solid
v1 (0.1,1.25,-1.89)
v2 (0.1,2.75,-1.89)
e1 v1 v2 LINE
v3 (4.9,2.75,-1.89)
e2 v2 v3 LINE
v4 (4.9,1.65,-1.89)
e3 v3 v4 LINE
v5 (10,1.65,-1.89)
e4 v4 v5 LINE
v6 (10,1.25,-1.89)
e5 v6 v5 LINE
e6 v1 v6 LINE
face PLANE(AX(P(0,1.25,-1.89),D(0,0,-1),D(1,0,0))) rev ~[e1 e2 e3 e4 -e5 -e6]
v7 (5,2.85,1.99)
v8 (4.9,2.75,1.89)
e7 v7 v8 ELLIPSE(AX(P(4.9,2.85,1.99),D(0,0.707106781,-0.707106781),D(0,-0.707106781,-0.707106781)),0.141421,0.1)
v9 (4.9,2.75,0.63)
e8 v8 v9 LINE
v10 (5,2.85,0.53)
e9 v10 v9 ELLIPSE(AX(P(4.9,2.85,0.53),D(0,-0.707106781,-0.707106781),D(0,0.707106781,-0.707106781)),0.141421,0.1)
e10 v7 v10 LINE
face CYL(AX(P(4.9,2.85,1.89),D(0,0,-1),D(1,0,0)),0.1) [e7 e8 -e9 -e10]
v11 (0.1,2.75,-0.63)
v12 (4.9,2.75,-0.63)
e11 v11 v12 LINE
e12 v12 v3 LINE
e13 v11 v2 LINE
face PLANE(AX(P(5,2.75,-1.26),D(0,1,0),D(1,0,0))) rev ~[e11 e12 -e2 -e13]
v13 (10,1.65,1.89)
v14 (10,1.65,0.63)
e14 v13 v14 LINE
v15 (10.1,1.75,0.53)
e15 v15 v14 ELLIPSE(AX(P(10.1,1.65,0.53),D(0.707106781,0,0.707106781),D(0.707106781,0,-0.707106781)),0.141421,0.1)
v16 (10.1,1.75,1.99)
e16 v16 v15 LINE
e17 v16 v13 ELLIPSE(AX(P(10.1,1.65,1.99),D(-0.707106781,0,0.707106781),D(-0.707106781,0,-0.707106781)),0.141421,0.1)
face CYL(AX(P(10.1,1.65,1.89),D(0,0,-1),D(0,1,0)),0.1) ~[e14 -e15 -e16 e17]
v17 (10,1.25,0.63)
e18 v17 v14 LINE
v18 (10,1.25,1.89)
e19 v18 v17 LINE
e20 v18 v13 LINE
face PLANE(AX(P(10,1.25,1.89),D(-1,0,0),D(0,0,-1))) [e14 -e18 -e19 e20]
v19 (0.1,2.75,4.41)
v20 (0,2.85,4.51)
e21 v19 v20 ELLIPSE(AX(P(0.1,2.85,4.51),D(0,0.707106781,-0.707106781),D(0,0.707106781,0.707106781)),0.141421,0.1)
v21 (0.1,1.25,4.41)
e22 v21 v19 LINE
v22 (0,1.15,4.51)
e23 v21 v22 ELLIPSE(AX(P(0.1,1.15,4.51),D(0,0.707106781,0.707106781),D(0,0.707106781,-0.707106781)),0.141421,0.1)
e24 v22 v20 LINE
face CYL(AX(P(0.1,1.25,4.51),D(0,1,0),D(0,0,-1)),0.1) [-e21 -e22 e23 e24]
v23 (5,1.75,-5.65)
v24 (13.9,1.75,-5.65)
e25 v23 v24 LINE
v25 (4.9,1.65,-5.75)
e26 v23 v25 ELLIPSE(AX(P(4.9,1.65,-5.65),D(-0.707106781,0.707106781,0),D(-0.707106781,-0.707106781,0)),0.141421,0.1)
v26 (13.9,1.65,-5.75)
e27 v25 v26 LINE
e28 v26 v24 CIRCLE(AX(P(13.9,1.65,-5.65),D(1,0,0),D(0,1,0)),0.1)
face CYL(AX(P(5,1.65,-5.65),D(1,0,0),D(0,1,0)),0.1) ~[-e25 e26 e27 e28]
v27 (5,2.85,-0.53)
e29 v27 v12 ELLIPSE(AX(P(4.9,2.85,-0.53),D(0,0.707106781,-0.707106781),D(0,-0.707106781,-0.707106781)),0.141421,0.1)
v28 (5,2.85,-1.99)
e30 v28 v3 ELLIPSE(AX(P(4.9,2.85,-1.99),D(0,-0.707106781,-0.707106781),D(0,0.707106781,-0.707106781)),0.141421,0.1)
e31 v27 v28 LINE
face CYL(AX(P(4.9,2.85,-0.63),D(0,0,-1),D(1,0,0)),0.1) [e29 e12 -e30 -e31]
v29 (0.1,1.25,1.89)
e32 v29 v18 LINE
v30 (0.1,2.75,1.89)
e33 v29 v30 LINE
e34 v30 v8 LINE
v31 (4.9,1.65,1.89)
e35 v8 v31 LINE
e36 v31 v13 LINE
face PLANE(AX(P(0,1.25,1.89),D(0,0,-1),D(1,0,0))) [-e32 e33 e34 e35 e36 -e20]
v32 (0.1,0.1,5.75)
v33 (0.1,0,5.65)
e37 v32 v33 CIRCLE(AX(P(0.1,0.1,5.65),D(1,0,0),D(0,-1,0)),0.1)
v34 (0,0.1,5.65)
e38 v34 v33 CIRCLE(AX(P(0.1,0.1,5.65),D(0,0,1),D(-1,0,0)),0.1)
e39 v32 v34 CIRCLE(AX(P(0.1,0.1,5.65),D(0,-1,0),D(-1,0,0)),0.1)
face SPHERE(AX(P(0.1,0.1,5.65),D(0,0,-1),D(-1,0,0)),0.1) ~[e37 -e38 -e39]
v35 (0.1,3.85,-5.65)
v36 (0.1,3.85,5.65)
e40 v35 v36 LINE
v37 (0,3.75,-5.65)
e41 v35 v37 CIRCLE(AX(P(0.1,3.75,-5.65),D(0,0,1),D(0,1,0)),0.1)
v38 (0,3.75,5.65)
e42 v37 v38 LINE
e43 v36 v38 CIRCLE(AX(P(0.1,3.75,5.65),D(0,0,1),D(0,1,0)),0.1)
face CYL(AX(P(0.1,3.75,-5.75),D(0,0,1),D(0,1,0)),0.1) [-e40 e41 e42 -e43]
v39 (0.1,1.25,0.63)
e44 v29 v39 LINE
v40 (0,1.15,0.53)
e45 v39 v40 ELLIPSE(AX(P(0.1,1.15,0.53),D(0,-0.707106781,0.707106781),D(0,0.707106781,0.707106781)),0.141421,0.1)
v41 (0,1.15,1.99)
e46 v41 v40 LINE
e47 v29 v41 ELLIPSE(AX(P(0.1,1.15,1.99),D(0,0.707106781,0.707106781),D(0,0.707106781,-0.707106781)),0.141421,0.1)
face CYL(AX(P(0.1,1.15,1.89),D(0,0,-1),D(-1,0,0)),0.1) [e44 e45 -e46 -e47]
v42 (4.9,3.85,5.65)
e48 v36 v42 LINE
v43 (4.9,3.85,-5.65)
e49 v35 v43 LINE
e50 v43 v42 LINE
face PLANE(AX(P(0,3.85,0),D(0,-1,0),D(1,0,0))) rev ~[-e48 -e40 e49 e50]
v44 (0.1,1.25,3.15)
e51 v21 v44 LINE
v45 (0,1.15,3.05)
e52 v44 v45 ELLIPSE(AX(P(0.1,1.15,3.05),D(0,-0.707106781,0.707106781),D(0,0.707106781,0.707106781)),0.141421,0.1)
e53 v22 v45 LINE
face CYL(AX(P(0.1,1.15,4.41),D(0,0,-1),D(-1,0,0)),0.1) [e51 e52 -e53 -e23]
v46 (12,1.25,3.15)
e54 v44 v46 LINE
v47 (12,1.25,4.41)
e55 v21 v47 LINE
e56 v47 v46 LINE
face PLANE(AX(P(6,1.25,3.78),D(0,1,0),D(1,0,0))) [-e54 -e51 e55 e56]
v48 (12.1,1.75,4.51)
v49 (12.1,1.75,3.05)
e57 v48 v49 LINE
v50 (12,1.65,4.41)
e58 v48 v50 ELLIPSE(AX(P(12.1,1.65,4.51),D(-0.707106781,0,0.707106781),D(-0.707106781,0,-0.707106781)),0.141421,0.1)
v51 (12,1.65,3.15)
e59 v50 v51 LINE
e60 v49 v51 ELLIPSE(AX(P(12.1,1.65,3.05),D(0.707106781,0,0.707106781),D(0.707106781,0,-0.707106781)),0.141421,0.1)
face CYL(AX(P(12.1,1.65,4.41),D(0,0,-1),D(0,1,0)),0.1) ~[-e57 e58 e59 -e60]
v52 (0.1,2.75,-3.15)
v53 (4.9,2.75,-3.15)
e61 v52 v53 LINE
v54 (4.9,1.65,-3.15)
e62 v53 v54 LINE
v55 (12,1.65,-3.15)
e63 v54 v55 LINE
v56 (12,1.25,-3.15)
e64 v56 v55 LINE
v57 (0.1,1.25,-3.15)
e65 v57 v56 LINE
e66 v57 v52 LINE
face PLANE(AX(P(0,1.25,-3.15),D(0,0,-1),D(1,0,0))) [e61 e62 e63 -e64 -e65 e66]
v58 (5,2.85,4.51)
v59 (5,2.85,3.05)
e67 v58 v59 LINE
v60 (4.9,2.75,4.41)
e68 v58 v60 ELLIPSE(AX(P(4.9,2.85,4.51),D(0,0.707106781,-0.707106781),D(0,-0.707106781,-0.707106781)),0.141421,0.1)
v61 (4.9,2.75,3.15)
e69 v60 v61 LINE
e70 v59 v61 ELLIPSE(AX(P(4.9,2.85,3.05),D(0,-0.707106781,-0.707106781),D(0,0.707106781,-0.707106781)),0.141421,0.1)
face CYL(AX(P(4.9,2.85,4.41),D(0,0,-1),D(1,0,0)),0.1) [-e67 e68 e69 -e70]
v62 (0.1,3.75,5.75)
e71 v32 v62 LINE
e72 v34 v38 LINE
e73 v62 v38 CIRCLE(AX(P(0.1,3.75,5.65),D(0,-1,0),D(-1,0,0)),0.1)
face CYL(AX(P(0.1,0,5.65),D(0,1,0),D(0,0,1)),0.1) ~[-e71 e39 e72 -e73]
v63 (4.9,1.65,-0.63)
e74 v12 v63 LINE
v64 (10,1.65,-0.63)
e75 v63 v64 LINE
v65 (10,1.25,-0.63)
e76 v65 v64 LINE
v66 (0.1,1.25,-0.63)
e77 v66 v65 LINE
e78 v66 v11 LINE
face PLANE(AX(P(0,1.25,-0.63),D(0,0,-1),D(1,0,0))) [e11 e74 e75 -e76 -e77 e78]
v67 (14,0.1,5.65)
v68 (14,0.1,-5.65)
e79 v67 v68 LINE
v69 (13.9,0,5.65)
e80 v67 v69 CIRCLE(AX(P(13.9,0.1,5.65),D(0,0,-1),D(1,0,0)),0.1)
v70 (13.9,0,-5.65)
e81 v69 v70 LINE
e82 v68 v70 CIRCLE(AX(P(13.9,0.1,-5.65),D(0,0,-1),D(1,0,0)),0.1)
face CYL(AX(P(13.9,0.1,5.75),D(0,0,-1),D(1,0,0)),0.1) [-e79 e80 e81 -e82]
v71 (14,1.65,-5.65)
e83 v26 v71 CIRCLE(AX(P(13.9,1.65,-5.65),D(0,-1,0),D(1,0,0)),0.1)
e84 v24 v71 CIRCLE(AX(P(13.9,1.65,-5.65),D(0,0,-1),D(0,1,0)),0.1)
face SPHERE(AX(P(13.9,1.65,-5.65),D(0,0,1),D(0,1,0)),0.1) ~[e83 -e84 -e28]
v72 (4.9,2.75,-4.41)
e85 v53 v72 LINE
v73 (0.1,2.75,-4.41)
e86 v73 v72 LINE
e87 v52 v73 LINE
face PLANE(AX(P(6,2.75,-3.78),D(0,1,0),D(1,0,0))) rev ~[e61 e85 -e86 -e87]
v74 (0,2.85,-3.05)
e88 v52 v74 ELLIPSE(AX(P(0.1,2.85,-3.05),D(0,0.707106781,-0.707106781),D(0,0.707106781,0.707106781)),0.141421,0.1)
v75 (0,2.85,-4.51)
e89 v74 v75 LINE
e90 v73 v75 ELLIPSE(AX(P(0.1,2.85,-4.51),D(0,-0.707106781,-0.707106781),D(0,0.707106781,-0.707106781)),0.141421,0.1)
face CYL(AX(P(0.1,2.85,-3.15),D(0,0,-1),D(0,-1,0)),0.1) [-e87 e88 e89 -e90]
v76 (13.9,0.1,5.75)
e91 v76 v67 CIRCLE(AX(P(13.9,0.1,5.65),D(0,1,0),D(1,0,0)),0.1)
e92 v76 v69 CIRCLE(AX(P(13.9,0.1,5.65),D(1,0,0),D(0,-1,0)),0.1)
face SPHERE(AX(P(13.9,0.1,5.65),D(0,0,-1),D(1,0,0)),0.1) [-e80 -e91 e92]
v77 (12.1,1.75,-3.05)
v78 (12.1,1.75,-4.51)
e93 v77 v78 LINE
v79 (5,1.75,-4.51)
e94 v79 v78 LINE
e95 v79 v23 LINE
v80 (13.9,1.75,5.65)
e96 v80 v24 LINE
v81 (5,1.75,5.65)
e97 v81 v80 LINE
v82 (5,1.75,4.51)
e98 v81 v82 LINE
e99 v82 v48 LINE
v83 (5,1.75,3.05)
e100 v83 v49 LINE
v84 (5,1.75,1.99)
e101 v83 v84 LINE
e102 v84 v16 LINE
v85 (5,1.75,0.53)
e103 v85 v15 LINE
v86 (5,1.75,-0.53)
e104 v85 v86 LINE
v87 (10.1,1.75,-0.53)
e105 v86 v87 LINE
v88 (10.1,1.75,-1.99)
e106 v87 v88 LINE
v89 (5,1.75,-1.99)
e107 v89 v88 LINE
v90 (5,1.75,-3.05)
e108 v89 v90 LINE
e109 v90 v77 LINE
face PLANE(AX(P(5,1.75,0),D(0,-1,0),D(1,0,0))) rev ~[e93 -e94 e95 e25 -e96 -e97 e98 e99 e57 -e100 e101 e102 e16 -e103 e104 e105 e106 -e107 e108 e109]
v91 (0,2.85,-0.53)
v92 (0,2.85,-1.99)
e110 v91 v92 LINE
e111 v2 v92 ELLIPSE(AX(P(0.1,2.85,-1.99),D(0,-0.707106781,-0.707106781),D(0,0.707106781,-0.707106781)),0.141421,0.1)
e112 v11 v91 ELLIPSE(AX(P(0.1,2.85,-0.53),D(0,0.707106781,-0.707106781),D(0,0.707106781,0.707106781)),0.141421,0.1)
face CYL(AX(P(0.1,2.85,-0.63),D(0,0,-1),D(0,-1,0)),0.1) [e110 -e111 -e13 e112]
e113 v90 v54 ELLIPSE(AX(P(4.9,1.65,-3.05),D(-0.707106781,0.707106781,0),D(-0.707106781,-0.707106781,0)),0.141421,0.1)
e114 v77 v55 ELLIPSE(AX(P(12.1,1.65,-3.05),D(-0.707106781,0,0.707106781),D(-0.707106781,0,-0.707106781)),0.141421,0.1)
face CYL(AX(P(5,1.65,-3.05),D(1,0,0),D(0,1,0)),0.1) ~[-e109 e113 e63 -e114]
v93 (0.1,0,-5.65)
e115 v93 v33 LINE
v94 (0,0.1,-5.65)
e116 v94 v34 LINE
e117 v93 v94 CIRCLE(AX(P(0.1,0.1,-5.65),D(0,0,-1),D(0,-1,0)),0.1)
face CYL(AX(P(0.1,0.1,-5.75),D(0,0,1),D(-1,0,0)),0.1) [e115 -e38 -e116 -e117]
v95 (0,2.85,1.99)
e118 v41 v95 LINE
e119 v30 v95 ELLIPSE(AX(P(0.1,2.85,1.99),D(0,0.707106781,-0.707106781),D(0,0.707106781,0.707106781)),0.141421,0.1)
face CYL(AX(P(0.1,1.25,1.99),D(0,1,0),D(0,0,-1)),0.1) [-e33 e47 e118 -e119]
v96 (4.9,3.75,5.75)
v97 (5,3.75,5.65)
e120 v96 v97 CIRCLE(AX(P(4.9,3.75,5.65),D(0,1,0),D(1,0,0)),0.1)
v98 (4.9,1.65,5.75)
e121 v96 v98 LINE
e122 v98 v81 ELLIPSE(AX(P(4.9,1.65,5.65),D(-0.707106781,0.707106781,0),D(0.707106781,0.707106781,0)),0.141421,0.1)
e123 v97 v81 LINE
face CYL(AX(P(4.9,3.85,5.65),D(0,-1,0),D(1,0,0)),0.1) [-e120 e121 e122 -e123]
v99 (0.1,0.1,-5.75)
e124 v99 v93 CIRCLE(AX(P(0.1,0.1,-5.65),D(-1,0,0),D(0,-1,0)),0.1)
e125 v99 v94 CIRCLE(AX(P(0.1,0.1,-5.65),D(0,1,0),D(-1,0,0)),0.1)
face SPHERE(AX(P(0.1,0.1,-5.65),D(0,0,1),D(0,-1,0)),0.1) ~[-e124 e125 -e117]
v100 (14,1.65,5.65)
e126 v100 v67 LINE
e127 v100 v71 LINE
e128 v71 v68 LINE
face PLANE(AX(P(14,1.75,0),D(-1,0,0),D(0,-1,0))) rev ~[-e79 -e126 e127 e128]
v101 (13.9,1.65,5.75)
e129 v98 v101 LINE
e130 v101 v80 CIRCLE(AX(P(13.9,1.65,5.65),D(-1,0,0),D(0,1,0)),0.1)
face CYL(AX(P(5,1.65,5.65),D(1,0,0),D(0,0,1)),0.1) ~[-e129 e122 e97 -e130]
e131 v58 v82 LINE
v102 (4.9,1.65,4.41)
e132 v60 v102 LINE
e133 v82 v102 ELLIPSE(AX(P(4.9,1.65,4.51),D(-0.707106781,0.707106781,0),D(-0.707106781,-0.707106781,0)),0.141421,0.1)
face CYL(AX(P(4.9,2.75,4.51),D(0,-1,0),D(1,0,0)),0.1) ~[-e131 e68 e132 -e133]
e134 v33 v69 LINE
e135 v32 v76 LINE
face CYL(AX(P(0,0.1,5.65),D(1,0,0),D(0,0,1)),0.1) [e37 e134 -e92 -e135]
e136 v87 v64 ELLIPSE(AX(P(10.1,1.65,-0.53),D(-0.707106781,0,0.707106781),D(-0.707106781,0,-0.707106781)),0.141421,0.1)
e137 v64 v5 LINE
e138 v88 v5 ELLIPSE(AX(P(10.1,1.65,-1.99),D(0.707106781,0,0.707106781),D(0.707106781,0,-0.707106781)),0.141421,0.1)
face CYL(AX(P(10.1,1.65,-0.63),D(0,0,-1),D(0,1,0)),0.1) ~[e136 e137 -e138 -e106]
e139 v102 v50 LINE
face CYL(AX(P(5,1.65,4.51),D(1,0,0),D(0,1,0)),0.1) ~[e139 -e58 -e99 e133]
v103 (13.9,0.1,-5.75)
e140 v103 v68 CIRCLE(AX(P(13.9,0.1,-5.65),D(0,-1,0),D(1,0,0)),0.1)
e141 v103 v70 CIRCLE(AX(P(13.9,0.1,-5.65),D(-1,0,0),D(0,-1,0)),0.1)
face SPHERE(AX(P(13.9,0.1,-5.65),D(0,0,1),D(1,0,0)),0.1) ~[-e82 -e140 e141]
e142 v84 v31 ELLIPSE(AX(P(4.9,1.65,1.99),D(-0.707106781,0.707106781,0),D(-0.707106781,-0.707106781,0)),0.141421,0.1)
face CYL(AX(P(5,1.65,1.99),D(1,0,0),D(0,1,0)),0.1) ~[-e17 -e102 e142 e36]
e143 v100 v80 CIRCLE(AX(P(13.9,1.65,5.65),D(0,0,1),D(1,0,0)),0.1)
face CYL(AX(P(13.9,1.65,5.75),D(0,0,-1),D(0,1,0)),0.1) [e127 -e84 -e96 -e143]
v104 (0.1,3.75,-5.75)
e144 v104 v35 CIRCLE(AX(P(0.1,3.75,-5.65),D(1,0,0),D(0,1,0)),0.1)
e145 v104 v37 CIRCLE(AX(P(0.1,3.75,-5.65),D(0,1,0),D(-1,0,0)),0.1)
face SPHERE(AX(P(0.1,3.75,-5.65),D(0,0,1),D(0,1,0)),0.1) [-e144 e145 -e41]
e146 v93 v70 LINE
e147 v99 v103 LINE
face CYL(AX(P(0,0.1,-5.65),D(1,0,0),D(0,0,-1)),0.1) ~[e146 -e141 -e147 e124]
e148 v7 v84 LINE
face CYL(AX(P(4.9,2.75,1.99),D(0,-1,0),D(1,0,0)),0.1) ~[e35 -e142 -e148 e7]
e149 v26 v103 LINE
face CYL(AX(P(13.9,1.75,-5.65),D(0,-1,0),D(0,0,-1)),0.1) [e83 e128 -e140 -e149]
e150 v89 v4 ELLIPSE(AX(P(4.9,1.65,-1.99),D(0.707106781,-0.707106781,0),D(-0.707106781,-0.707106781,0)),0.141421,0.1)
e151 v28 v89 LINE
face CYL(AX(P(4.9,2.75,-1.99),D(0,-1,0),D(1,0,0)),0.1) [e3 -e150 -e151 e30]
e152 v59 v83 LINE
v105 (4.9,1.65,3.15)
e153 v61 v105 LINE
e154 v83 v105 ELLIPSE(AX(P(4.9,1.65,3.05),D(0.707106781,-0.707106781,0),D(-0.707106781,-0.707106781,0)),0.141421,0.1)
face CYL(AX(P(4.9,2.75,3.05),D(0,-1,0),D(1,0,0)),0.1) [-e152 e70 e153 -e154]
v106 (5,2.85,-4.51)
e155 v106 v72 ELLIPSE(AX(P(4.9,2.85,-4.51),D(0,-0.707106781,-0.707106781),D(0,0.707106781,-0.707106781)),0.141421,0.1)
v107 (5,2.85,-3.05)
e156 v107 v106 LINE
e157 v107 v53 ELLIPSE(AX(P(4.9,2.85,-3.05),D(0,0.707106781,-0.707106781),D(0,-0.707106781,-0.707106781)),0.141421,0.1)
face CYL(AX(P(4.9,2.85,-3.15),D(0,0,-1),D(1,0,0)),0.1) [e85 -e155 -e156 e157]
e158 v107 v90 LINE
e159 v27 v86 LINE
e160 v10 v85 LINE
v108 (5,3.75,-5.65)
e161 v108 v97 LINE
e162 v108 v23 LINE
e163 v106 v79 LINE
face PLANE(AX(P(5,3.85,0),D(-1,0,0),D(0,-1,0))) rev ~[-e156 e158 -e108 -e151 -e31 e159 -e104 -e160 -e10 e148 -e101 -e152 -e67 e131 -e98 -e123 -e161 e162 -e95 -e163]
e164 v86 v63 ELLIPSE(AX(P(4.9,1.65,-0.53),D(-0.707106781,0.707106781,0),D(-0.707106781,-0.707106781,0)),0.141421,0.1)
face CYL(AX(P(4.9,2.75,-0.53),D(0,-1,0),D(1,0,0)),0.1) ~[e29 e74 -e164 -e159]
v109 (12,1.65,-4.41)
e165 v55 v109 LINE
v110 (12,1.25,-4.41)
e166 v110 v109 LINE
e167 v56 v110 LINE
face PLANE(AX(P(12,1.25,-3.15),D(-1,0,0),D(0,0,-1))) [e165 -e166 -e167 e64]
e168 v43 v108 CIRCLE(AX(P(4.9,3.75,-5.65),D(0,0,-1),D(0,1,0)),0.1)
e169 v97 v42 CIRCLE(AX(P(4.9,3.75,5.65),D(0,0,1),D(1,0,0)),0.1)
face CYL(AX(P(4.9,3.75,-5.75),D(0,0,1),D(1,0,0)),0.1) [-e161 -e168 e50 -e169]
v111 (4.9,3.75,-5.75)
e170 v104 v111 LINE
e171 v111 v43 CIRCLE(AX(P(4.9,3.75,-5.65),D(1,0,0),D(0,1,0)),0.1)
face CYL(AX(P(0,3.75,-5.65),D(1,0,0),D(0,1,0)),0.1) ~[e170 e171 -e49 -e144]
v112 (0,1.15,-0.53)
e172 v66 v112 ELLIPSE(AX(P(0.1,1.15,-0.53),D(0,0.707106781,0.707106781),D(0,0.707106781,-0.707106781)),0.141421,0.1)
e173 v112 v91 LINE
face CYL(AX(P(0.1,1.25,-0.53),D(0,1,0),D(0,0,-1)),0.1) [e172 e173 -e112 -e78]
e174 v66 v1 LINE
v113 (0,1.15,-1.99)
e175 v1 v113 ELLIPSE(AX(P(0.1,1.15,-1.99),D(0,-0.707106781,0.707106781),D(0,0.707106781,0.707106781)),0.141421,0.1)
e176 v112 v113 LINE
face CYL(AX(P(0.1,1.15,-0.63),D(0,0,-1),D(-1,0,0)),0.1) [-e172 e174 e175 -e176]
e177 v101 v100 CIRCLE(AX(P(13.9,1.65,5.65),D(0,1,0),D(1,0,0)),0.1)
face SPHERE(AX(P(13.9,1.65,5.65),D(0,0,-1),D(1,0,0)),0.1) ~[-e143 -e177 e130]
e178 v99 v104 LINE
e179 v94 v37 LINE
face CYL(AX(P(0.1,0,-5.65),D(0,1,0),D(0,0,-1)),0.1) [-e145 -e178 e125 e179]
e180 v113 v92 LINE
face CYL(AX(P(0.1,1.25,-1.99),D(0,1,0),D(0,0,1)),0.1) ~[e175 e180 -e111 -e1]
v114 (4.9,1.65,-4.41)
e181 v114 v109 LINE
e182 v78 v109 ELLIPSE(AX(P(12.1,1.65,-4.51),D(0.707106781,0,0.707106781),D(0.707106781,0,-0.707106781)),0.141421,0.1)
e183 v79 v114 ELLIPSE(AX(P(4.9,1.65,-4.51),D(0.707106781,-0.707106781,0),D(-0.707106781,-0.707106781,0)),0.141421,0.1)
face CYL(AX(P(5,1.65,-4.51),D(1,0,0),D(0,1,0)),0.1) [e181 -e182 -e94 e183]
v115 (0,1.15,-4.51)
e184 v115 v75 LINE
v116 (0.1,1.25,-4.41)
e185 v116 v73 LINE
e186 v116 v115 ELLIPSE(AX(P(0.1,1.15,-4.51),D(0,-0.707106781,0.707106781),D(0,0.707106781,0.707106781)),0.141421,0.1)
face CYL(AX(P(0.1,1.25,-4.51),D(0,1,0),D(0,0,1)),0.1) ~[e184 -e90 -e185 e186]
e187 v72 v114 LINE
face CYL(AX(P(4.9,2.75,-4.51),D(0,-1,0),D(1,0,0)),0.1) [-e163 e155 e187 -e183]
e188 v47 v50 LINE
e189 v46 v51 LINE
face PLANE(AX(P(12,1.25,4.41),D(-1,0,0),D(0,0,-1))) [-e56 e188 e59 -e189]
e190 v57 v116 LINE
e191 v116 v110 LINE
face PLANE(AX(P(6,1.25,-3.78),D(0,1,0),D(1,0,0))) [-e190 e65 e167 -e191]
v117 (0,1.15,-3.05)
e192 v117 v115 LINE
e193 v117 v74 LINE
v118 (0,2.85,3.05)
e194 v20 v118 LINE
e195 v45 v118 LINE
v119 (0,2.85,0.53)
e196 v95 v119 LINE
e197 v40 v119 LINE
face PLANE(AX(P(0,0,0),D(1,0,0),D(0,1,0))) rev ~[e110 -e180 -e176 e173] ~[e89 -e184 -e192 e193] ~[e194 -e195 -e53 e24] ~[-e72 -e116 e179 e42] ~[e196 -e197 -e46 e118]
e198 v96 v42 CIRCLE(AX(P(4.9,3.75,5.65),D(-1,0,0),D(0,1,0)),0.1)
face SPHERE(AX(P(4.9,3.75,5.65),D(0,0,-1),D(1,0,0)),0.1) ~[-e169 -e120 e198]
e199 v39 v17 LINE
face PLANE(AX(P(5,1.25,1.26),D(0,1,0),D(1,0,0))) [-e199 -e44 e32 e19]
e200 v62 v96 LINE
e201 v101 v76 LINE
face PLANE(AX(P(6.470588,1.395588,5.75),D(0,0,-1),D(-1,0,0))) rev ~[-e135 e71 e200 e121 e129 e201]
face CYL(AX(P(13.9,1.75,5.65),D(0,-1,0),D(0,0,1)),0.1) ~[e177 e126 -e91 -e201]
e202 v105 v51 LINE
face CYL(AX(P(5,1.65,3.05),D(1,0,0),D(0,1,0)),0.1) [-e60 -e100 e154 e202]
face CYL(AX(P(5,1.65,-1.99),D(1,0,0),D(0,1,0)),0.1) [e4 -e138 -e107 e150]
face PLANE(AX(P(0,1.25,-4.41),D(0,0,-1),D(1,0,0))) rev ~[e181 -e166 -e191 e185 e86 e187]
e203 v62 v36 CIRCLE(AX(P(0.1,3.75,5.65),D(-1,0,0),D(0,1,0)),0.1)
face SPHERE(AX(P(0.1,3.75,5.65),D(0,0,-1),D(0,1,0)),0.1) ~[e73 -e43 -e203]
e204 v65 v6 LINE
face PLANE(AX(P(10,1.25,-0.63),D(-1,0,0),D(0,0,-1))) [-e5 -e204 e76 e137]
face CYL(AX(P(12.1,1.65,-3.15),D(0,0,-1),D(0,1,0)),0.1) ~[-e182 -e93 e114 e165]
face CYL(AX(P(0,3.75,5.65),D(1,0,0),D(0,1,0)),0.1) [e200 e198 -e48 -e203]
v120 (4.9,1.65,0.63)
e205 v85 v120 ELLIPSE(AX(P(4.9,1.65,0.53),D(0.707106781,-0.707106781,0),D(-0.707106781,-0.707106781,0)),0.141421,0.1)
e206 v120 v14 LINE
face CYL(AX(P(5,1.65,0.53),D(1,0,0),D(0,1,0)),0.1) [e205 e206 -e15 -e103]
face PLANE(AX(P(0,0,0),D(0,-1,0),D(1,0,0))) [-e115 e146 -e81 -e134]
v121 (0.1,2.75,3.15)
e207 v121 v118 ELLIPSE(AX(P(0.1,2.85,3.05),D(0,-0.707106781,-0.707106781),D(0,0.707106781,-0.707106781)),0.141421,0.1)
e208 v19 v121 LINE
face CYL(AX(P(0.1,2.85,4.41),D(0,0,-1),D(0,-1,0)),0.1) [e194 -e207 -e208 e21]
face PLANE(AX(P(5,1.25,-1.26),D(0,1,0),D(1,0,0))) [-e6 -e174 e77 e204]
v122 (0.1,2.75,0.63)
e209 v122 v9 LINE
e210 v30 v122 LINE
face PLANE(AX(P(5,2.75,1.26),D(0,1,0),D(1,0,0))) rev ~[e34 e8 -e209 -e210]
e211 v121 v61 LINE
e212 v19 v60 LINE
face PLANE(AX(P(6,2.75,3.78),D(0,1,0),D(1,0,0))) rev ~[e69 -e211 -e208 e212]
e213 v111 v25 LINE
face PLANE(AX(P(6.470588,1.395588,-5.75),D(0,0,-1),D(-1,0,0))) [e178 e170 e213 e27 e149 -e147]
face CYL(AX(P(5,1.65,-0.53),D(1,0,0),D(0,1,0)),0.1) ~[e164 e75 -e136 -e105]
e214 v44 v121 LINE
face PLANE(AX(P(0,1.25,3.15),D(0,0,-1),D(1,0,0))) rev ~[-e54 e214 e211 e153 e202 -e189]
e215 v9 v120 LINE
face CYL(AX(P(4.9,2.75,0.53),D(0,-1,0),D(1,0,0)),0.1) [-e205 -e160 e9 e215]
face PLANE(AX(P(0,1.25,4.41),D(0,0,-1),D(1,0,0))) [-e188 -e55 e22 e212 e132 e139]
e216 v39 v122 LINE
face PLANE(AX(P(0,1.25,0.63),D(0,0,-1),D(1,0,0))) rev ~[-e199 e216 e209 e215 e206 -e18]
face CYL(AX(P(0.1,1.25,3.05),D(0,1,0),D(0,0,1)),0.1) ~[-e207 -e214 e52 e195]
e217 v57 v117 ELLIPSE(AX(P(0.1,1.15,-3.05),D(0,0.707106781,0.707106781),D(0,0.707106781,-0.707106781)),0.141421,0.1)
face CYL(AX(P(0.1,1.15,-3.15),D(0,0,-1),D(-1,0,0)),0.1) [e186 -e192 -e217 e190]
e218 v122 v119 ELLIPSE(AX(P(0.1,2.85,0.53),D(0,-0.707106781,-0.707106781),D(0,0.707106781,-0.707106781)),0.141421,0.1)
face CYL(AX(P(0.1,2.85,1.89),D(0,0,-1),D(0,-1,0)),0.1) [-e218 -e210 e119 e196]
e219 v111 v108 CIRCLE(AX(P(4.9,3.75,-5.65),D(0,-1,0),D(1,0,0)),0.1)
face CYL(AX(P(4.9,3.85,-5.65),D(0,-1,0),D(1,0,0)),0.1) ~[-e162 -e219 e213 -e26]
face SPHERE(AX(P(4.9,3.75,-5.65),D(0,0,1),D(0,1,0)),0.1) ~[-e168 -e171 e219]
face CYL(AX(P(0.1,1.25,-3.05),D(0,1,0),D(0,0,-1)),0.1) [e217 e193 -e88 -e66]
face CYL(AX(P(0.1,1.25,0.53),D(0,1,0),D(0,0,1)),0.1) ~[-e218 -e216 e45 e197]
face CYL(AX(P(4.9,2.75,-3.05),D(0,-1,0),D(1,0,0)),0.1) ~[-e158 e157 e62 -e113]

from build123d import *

# Parameters (mm, degrees)
BOSS_EXTRUDE1_DEPTH     = 5.75
CUT_EXTRUDE1_DEPTH      = 1
CUT_EXTRUDE1_DEPTH_BACK = 0.5
SKETCH2_W               = 12
SKETCH2_H               = 1.26
SKETCH2_W_2             = 10
FILLET1_R               = 0.1


with BuildPart() as part:
    # Sketch1 → Boss-Extrude1 (new, symmetric)
    with BuildSketch(Plane.XY):
        Polygon((5, 3.85), (5, 1.75), (14, 1.75), (14, 0), (5, 0), (0, 0), (0, 3.85), align=None)
    extrude(amount=BOSS_EXTRUDE1_DEPTH, both=True)

    # Sketch2 → Cut-Extrude1 (cut, two sides: drawn at the far end of the back side and taken through both)
    with BuildSketch(Plane(origin=(0, 1.75, 0), x_dir=(1, 0, 0), z_dir=(0, 1, 0)).offset(-CUT_EXTRUDE1_DEPTH_BACK)):
        with Locations((6, 3.78)):
            Rectangle(SKETCH2_W, SKETCH2_H)
        with Locations((5, 1.26)):
            Rectangle(SKETCH2_W_2, SKETCH2_H)
        with Locations((5, -1.26)):
            Rectangle(SKETCH2_W_2, SKETCH2_H)
        with Locations((6, -3.78)):
            Rectangle(SKETCH2_W, SKETCH2_H)
    extrude(amount=CUT_EXTRUDE1_DEPTH + CUT_EXTRUDE1_DEPTH_BACK, mode=Mode.SUBTRACT)

    # Fillet1
    fillet1_edges = [part.edges().sort_by_distance(p)[0] for p in [
        (0, 3.85, 0),
        (5, 3.85, 0),
        (14, 1.75, 0),
        (14, 0, 0),
        (0, 0, 0),
        (14, 0.875, 5.75),
        (9.5, 1.75, 5.75),
        (5, 2.8, 5.75),
        (2.5, 3.85, 5.75),
        (5, 2.75, 3.78),
        (5, 2.25, 3.15),
        (5, 2.25, 4.41),
        (5, 2.75, 1.26),
        (5, 2.25, 0.63),
        (5, 2.25, 1.89),
        (5, 2.75, -1.26),
        (5, 2.25, -1.89),
        (5, 2.25, -0.63),
        (5, 2.75, -3.78),
        (5, 2.25, -4.41),
        (5, 2.25, -3.15),
        (12, 1.75, 3.78),
        (10, 1.75, 1.26),
        (10, 1.75, -1.26),
        (12, 1.75, -3.78),
        (0, 1.925, 5.75),
        (0, 2, -3.15),
        (0, 2.75, -3.78),
        (0, 2, -4.41),
        (0, 1.25, -3.78),
        (8.5, 1.75, -3.15),
        (8.5, 1.75, -4.41),
        (0, 2, -0.63),
        (0, 2.75, -1.26),
        (0, 2, -1.89),
        (0, 1.25, -1.26),
        (7.5, 1.75, -0.63),
        (7.5, 1.75, -1.89),
        (0, 2, 1.89),
        (0, 2.75, 1.26),
        (7.5, 1.75, 1.89),
        (7.5, 1.75, 0.63),
        (0, 2, 0.63),
        (0, 1.25, 1.26),
        (2.5, 3.85, -5.75),
        (7, 0, 5.75),
        (0, 2, 4.41),
        (0, 2.75, 3.78),
        (8.5, 1.75, 4.41),
        (8.5, 1.75, 3.15),
        (0, 2, 3.15),
        (0, 1.25, 3.78),
        (5, 2.8, -5.75),
        (9.5, 1.75, -5.75),
        (14, 0.875, -5.75),
        (7, 0, -5.75),
        (0, 1.925, -5.75),
    ]]
    fillet(fillet1_edges, radius=FILLET1_R)


solid = part.part
